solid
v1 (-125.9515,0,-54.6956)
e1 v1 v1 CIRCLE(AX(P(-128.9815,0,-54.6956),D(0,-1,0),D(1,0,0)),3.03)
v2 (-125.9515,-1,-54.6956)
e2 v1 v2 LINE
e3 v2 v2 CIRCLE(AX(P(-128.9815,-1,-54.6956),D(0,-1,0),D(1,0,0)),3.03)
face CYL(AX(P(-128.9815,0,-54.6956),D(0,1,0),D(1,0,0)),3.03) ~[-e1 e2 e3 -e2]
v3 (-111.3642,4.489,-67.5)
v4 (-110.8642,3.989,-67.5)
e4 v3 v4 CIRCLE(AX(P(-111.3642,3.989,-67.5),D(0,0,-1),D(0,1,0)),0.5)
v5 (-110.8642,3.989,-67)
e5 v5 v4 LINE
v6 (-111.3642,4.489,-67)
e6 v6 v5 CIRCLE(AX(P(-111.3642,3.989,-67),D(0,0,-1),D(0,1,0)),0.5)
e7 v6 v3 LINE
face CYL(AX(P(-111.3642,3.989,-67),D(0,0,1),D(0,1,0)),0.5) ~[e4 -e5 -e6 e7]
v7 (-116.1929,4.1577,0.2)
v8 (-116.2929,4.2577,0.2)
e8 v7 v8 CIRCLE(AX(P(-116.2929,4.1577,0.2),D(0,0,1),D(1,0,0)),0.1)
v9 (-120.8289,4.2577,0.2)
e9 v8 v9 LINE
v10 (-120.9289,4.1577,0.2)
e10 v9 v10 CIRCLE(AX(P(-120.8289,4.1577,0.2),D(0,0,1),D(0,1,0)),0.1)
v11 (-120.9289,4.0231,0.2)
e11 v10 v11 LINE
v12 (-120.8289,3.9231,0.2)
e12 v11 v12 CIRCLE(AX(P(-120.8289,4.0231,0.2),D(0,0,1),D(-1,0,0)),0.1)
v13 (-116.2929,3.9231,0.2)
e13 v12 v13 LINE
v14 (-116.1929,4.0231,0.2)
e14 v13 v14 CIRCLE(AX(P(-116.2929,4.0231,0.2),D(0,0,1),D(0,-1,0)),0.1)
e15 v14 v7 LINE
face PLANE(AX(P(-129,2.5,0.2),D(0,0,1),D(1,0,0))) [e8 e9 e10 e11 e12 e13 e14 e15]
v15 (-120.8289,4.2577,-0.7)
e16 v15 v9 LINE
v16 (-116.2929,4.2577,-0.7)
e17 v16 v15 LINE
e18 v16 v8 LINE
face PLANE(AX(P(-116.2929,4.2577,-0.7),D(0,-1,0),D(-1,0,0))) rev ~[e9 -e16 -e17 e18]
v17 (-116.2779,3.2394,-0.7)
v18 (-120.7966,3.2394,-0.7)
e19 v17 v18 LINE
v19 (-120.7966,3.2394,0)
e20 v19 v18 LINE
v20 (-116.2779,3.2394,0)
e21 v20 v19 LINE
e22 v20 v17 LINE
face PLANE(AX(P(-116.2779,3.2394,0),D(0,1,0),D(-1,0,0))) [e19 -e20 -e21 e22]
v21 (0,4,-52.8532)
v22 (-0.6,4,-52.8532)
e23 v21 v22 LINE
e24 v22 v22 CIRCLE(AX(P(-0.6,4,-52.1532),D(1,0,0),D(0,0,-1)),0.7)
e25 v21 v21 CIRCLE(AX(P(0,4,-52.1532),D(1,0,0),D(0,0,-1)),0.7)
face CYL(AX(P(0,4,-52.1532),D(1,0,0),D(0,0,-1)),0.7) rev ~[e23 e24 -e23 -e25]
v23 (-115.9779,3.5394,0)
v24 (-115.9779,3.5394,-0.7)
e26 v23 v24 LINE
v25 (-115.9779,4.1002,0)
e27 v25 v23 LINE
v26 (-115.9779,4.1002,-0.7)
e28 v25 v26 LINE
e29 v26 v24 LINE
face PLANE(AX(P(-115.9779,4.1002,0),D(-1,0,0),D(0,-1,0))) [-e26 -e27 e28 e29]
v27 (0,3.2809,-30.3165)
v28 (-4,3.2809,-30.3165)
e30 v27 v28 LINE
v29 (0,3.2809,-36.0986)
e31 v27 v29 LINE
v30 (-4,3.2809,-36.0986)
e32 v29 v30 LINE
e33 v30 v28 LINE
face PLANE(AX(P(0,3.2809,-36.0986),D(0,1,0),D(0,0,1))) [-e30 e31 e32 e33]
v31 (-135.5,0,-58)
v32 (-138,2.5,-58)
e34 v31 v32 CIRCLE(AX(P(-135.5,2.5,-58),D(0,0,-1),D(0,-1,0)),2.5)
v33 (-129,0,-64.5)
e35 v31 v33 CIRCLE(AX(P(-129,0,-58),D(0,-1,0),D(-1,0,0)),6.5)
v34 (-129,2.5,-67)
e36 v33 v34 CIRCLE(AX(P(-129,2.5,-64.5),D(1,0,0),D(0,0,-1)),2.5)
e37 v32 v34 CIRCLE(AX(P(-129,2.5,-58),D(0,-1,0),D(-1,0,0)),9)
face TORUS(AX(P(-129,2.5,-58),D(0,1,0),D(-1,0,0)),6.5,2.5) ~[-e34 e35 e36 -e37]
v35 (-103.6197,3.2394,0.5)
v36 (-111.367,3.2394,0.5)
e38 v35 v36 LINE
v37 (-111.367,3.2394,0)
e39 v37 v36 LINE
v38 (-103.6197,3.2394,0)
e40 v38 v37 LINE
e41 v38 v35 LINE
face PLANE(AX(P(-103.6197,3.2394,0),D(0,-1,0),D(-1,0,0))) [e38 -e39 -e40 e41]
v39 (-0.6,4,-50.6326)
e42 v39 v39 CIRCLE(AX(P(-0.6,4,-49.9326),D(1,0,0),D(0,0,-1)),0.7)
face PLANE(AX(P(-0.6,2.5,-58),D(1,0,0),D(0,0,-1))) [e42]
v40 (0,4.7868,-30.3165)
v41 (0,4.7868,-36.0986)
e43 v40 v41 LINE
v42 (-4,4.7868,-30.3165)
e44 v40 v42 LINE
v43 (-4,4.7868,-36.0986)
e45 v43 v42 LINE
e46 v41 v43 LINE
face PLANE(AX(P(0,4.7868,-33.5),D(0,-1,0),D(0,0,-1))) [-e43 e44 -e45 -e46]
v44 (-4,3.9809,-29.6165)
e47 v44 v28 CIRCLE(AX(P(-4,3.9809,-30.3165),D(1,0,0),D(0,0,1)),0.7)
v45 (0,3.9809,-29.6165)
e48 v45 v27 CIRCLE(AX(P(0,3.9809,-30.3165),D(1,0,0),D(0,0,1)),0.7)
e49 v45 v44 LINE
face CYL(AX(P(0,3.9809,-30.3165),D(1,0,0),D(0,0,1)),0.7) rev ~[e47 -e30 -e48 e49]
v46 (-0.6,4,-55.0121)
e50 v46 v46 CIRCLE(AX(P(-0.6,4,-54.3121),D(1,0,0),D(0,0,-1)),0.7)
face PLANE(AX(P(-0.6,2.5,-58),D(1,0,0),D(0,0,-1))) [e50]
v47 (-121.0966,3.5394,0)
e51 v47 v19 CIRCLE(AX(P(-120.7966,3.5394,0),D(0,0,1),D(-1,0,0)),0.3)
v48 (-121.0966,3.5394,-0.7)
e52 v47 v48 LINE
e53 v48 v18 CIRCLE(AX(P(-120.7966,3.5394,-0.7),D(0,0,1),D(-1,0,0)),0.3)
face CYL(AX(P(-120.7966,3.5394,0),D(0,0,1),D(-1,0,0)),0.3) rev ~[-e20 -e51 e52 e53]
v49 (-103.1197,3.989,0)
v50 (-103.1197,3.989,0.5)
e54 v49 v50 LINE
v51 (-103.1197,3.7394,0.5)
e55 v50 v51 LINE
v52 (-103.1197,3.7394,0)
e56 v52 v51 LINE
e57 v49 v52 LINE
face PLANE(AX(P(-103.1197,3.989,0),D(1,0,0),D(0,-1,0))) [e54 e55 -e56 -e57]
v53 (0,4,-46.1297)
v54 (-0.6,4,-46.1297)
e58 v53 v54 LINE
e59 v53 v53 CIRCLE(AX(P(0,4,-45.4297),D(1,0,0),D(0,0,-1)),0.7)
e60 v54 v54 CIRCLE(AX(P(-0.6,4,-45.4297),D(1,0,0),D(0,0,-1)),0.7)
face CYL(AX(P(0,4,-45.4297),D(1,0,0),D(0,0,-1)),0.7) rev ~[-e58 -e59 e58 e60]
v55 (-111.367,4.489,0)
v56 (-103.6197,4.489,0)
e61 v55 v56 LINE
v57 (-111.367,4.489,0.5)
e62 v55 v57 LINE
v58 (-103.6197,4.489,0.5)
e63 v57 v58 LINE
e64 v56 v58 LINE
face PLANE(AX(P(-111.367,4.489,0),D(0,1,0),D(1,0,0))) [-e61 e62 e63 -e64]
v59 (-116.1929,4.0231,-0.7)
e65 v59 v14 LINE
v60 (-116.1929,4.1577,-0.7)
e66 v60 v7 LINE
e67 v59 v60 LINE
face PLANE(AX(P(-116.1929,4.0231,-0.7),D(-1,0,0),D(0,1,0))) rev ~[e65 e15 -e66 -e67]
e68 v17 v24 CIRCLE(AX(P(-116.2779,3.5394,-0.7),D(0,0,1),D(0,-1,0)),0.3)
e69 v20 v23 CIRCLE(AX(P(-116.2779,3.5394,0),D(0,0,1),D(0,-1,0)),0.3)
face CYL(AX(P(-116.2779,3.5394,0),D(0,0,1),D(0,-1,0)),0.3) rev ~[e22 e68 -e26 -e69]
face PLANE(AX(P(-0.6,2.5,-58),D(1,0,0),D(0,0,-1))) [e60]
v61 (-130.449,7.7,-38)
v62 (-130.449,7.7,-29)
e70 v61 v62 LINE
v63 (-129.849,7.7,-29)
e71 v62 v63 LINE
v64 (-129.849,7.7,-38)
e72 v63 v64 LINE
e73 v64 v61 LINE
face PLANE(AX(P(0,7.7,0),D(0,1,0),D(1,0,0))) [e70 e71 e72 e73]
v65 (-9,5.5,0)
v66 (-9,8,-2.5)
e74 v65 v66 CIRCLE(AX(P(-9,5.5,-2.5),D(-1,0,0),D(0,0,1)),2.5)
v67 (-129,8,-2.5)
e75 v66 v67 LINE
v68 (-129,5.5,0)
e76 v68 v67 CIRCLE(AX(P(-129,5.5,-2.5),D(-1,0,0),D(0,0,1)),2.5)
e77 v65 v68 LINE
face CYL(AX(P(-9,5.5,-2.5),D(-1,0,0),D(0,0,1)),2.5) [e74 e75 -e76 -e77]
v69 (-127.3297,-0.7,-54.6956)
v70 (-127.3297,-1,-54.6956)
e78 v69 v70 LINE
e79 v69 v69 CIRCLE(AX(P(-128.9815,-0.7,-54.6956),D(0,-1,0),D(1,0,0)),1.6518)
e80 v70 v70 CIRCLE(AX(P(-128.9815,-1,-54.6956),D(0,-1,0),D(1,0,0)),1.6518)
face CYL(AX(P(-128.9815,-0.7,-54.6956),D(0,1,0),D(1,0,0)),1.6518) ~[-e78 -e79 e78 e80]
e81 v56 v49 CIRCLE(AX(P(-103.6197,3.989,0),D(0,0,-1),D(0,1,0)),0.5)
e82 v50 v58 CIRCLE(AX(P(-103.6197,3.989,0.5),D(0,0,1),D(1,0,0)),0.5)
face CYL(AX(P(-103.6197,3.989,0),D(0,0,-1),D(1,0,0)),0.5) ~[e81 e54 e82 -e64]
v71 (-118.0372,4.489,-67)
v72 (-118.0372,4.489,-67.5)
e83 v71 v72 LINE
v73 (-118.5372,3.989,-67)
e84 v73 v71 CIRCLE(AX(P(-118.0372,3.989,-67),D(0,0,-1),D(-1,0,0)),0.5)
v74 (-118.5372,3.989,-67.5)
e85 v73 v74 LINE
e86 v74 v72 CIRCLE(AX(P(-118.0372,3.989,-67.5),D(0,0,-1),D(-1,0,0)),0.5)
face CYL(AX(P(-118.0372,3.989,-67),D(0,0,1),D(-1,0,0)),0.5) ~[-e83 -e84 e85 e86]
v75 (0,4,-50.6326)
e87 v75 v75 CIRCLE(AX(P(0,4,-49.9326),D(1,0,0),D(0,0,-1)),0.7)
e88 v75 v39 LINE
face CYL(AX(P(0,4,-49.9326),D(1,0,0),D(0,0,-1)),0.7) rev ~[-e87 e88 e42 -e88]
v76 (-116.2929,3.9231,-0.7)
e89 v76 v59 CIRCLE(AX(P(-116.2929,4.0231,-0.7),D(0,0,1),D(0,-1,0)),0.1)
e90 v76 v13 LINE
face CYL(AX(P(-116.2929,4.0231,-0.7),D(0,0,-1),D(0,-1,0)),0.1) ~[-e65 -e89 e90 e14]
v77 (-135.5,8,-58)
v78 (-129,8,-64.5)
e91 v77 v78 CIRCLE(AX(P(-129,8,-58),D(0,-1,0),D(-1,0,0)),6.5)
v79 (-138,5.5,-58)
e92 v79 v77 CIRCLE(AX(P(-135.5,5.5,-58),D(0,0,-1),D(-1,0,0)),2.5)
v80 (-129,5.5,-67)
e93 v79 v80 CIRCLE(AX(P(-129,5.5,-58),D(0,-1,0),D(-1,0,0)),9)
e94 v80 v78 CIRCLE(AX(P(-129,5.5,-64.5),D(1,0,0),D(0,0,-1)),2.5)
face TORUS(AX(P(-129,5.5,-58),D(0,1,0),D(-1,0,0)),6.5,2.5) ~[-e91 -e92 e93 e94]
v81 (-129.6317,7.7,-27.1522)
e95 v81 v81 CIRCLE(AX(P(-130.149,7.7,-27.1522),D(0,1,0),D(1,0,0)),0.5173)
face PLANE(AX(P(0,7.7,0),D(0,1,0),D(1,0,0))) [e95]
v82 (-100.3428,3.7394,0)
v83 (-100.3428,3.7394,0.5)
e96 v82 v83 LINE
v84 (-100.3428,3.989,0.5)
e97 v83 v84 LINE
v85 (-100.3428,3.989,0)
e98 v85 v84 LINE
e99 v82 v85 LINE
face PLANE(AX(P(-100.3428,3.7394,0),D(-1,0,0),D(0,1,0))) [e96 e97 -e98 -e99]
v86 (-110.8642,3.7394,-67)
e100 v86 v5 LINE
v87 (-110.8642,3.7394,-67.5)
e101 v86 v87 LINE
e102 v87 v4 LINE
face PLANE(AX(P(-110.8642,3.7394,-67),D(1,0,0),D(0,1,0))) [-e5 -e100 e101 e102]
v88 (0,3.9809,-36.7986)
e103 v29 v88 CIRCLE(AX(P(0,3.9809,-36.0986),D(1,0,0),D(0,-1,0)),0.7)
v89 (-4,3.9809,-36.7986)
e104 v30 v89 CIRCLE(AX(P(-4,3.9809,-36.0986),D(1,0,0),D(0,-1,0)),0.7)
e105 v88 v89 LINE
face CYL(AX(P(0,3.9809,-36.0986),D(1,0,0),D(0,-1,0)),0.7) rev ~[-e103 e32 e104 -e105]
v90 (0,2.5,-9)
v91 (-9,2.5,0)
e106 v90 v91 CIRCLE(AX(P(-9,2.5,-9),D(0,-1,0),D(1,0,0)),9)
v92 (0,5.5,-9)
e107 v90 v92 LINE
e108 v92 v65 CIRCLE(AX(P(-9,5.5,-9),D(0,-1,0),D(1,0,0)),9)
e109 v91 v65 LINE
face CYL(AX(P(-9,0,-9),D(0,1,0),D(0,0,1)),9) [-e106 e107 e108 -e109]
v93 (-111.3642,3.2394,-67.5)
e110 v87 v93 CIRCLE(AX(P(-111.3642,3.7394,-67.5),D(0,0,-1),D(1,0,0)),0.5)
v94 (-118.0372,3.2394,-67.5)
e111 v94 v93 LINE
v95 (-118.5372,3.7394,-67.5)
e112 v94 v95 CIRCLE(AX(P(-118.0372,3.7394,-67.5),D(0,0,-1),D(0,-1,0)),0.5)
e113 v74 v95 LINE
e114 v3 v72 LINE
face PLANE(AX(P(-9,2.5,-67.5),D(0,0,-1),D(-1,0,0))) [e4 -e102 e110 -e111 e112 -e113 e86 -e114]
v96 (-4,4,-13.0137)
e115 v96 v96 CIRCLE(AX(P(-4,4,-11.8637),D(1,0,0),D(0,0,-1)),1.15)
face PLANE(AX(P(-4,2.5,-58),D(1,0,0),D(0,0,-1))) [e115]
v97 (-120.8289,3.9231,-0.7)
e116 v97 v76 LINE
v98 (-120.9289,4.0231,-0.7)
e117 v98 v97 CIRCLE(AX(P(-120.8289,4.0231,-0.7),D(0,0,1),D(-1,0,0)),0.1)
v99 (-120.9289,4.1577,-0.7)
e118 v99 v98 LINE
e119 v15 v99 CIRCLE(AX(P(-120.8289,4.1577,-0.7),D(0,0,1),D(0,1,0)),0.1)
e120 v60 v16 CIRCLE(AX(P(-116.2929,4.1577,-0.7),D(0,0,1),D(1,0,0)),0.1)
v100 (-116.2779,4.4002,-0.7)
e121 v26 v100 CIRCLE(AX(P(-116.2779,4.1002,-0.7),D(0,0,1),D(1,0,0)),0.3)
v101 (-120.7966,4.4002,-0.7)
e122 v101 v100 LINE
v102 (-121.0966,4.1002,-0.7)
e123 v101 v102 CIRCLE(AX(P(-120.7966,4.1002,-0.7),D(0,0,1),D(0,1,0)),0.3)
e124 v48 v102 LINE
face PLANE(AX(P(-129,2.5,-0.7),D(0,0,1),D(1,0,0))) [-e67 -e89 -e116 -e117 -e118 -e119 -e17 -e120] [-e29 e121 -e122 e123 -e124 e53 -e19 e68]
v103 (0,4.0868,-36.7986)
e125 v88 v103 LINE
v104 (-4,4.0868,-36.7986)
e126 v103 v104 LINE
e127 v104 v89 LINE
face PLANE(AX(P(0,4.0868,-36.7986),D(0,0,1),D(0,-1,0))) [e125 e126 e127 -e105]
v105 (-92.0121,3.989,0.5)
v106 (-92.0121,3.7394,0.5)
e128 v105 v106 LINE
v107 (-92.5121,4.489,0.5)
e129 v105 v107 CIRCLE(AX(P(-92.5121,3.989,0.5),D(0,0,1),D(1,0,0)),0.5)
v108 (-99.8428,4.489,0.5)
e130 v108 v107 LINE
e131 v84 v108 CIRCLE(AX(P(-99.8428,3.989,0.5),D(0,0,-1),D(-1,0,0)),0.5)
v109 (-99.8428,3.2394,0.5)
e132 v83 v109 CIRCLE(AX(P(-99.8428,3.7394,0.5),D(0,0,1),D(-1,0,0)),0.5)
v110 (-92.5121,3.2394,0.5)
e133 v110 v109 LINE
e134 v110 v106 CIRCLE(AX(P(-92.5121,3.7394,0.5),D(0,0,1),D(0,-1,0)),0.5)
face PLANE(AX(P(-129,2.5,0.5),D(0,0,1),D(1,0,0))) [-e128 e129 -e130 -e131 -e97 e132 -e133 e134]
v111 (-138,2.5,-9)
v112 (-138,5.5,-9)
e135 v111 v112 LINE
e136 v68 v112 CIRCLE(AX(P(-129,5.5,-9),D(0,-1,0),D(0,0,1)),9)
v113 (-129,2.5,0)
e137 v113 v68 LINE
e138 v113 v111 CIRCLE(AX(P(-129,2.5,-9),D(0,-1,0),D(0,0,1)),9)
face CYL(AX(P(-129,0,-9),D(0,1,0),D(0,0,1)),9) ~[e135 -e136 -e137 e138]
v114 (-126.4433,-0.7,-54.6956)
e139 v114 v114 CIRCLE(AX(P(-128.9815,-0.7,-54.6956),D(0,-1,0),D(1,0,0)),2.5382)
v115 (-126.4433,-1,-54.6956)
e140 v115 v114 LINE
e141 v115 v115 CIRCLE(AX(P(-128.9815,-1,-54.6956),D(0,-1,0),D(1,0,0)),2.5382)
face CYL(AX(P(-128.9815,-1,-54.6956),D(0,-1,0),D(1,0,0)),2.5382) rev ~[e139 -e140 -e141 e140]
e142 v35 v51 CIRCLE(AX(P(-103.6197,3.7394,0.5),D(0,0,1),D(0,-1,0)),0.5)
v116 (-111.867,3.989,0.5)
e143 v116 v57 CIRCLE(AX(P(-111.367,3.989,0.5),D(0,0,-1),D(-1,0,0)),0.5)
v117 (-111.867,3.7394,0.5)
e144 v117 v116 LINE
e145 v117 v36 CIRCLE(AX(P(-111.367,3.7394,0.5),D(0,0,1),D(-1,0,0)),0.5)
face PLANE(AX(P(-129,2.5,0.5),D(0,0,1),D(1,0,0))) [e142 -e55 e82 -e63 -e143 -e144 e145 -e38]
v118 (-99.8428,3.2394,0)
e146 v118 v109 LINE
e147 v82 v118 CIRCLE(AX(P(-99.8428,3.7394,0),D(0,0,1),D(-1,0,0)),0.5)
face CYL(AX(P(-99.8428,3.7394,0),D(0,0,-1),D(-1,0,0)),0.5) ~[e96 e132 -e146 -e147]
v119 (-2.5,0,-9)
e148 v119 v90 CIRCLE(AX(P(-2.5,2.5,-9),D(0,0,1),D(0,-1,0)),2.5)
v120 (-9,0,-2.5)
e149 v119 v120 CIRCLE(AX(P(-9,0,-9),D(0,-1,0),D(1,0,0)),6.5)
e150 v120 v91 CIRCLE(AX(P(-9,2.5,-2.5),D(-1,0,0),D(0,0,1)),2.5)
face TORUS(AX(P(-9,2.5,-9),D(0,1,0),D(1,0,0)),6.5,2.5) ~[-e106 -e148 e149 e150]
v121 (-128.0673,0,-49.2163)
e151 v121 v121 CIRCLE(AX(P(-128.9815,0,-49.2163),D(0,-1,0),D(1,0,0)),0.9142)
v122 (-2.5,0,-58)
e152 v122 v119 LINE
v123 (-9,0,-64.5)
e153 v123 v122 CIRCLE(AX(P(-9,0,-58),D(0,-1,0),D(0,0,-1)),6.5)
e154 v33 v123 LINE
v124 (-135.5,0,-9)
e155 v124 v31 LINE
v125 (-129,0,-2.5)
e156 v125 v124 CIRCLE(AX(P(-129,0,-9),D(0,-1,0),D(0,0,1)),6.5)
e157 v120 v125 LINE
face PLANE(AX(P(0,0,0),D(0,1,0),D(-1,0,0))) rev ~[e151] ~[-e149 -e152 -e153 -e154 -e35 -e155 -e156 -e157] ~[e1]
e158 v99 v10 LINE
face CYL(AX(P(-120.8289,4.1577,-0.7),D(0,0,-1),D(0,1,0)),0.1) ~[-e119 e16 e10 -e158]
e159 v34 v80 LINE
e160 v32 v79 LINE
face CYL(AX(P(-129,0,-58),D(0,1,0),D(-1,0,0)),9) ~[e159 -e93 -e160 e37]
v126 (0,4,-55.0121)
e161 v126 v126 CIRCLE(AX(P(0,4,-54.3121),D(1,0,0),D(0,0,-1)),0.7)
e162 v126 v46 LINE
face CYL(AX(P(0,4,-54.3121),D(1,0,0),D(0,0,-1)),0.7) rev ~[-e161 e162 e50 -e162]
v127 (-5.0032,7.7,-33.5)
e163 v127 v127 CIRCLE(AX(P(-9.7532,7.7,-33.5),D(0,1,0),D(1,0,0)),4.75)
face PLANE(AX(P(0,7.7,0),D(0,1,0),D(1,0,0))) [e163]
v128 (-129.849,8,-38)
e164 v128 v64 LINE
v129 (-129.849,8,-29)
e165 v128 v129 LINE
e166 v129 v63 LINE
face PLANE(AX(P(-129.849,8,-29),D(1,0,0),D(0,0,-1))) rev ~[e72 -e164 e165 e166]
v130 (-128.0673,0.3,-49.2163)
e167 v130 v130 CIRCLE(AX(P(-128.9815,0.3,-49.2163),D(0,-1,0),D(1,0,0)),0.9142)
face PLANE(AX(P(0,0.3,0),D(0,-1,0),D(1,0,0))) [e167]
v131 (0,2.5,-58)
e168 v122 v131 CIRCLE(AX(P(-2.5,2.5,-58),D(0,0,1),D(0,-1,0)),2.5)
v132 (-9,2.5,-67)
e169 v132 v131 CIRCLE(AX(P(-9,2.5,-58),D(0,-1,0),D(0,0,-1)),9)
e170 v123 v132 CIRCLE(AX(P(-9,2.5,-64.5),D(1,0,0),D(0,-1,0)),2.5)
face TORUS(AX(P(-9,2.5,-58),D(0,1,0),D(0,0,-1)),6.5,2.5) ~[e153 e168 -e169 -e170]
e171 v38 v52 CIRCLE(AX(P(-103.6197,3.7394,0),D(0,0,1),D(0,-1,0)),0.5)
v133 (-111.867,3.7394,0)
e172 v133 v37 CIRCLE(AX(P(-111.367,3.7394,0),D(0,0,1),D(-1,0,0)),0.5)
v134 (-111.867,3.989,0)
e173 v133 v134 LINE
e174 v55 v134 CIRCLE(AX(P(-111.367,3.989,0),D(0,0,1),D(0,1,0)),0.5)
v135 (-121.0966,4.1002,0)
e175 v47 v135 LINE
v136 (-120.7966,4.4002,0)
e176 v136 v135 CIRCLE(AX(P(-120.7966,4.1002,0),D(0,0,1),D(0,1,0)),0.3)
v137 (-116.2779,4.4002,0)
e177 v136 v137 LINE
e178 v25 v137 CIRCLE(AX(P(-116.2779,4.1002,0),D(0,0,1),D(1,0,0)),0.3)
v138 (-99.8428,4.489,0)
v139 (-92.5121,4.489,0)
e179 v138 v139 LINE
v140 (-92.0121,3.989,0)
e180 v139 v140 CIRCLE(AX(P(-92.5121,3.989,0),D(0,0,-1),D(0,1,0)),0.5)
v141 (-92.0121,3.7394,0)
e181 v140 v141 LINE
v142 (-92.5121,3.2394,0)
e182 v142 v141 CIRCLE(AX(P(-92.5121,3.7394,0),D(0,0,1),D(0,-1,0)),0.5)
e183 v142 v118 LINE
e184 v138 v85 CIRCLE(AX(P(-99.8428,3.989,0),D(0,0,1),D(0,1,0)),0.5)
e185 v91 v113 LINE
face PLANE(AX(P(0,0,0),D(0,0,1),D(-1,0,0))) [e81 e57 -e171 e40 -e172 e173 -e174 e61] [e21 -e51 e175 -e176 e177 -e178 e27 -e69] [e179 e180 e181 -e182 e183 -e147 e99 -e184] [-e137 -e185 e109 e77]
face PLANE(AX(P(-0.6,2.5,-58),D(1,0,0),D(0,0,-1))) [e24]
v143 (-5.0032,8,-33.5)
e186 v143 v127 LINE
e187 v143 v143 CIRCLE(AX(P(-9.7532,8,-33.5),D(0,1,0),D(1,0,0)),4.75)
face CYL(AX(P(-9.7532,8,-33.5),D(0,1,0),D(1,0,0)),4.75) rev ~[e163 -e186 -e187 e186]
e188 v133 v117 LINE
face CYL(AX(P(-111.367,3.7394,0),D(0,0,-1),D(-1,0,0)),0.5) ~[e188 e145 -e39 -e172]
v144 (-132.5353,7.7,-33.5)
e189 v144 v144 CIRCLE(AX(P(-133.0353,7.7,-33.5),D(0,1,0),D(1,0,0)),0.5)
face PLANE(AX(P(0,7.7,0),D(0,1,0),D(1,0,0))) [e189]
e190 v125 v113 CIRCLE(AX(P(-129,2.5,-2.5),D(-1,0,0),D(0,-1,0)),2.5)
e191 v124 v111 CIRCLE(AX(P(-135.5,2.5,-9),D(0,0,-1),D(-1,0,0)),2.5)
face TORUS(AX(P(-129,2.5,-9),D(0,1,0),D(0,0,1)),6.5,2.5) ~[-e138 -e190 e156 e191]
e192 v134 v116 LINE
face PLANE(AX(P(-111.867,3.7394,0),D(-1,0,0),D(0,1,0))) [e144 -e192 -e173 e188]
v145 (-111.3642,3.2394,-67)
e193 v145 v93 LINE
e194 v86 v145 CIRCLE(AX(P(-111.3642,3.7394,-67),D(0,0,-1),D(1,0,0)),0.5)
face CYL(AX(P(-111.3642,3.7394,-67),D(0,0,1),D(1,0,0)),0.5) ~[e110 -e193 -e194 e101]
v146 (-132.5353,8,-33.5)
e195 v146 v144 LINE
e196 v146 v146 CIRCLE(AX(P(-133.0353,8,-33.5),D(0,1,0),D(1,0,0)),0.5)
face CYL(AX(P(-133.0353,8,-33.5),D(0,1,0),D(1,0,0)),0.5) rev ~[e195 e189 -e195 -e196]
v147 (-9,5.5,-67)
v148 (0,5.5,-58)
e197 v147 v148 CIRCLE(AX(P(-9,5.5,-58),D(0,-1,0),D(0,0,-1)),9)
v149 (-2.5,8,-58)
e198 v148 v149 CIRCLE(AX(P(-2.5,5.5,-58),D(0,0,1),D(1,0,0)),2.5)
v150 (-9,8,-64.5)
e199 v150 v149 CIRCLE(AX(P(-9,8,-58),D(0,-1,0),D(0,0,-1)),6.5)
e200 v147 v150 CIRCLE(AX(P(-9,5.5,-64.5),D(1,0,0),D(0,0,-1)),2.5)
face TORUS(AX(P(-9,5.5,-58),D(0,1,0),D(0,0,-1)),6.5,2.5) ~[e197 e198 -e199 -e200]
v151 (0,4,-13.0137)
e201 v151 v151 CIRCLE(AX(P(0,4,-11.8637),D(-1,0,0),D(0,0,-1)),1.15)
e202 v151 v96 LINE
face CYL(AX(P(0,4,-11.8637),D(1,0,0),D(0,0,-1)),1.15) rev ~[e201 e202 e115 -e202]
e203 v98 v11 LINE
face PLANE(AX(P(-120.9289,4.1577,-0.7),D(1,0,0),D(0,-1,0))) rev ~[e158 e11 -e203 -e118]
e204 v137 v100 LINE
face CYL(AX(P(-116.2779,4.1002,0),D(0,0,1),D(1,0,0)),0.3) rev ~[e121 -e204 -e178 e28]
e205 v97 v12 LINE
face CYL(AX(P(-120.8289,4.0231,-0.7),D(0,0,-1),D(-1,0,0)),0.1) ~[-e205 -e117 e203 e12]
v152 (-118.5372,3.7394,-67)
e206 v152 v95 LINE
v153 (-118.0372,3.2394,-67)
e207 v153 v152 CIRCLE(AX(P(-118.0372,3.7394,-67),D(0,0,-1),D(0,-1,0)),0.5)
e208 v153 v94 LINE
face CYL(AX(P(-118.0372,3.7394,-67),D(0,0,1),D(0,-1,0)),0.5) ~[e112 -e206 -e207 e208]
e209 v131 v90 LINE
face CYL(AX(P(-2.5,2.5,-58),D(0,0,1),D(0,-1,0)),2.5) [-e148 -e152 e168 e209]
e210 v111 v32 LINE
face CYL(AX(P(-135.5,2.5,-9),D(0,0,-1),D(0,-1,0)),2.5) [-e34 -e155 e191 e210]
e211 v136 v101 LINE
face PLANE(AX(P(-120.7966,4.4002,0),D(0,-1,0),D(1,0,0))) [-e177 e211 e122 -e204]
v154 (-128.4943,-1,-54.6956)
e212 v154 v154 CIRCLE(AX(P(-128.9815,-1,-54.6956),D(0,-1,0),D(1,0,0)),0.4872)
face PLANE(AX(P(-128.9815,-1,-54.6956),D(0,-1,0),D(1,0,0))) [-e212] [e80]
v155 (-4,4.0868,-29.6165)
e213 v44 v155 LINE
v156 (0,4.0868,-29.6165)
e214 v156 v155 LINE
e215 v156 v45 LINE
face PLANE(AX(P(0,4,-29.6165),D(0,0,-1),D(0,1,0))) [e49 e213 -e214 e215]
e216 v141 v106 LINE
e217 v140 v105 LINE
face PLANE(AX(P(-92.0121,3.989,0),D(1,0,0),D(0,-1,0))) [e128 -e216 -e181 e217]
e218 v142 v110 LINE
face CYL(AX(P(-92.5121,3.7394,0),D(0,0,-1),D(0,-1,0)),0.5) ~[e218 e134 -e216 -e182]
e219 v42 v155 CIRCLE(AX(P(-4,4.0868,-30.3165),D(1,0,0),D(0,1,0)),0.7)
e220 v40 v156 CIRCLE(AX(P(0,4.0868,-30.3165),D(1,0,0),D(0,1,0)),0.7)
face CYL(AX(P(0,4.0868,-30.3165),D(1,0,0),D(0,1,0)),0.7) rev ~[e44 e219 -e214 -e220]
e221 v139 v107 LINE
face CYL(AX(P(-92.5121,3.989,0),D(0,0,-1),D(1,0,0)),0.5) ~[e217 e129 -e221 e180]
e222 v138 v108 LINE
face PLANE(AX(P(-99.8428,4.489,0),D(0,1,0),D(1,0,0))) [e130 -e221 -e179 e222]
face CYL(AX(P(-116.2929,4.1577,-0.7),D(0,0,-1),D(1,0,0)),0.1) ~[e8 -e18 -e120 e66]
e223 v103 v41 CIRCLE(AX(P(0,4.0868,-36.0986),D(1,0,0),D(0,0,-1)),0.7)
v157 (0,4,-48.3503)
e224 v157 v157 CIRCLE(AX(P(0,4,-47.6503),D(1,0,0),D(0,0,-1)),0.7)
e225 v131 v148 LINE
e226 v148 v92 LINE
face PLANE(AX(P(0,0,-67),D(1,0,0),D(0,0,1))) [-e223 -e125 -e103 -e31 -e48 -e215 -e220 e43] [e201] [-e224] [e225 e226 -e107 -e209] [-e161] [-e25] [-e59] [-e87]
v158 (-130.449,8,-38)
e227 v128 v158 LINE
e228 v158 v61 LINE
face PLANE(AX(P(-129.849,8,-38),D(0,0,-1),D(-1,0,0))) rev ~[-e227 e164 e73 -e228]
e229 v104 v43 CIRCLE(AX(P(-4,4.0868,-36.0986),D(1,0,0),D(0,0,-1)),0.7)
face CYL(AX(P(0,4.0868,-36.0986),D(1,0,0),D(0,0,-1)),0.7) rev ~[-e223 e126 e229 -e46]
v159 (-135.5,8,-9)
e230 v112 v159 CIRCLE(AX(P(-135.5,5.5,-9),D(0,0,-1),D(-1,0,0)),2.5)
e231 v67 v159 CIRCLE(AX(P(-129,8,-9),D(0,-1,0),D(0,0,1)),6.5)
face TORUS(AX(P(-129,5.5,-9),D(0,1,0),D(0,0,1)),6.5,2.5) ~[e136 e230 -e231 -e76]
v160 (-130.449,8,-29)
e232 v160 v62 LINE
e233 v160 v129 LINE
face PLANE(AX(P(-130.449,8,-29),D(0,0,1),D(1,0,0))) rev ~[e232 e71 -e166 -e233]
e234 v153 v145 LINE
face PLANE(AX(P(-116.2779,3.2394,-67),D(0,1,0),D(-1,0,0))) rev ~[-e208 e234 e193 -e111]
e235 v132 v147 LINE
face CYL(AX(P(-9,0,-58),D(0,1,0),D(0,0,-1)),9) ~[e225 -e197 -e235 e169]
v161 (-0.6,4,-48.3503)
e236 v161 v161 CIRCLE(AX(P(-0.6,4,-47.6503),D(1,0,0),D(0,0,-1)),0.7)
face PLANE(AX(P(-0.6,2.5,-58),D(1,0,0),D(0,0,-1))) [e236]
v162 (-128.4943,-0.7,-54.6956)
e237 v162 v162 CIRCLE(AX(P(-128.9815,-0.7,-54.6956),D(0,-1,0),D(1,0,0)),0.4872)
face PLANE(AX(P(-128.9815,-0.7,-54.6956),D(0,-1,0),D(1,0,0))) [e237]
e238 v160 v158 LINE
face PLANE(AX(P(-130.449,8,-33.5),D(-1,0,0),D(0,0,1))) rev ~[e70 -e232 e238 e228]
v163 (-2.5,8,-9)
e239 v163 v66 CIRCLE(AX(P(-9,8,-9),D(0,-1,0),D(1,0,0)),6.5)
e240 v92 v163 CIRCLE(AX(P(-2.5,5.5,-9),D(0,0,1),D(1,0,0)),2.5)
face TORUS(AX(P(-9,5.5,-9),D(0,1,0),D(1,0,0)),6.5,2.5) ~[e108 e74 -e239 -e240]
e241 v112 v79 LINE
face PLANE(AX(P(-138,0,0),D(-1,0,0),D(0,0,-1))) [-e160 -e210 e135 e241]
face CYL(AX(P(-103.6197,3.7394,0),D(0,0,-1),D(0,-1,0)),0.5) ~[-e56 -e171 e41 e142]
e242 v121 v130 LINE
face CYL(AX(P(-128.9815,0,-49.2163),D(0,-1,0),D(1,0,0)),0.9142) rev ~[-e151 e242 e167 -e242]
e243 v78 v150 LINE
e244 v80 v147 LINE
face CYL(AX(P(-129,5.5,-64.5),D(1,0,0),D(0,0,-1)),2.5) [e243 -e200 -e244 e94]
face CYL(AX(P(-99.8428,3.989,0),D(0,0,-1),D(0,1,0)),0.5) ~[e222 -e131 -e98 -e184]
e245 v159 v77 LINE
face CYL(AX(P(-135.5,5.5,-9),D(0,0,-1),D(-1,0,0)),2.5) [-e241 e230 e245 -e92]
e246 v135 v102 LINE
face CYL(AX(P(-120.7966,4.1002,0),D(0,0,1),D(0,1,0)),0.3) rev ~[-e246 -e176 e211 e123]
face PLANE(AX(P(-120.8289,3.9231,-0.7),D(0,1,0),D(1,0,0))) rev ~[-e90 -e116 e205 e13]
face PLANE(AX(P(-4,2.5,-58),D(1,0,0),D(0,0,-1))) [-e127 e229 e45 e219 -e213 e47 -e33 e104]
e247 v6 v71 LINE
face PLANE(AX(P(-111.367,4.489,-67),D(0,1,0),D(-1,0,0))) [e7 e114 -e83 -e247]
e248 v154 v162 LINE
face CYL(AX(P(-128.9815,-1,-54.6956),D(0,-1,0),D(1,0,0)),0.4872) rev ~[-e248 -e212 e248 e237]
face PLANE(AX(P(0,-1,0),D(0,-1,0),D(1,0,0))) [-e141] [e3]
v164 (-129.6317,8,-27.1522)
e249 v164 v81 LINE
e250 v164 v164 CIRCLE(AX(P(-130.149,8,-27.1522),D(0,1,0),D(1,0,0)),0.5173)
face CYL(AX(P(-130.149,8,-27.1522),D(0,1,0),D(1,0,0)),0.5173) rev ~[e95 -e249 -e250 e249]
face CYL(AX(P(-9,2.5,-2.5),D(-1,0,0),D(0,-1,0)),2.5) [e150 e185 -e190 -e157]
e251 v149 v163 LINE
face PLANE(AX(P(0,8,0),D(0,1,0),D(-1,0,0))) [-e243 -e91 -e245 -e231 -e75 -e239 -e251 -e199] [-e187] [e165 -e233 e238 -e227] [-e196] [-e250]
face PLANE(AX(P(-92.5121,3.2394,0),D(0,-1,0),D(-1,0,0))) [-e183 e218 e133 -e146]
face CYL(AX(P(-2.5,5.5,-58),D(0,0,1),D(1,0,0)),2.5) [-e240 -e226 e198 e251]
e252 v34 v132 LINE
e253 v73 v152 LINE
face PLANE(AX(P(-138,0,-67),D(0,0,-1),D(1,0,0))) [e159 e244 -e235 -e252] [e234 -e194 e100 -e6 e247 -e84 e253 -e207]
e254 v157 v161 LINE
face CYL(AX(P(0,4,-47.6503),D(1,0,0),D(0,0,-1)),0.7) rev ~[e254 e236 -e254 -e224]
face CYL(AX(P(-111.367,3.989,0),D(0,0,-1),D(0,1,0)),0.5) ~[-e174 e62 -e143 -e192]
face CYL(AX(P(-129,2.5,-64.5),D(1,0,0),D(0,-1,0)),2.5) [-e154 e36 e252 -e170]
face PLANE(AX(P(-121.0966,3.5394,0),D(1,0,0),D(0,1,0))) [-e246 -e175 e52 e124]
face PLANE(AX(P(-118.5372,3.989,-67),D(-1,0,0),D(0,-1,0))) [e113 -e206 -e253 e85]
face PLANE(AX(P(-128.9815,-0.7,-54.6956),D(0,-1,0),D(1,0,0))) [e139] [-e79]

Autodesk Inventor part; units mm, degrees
ref_plane "YZ Plane" through (0, 0, 0) normal (1, 0, 0) x (0, 1, 0)
ref_plane "XZ Plane" through (0, 0, 0) normal (0, 1, 0) x (-1, 0, 0)
ref_plane "XY Plane" through (0, 0, 0) normal (0, 0, 1) x (1, 0, 0)
sketch "Sketch1" plane through (0, 0, 0) normal (0, 1, 0) x (-1, 0, 0)
  line L0 (0, 0) -> (138, 0)
  line L1 (138, 0) -> (138, -67)
  line L2 (138, -67) -> (0, -67)
  line L3 (0, -67) -> (0, 0)
  dimension "d0" = 138
  dimension "d1" = 67
extrude "Extrusion1" add sketch "Sketch1" along normal blind 8
fillet "Fillet3" radius 9 4 edges at (-138, 4, 0) (-138, 4, -67) (0, 4, 0) (0, 4, -67)
fillet "Fillet4" radius 2.5 16 edges at (-135.364, 8, -2.636) (-69, 8, 0) (-2.636, 8, -2.636) (0, 8, -33.5) (-2.636, 8, -64.364) (-69, 8, -67) (-135.364, 8, -64.364) (-138, 8, -33.5) (0, 0, -33.5) (-2.636, 0, -64.364) (-69, 0, -67) (-135.364, 0, -64.364) (-138, 0, -33.5) (-135.364, 0, -2.636) (-69, 0, 0) (-2.636, 0, -2.636)
sketch "Sketch9" plane through (0, 8, 0) normal (0, 1, 0) x (1, 0, 0)
  line L0 (-135.5, 9) -> (-135.5, 58) projected
  line L1 (-2.5, 58) -> (-2.5, 9) projected
  line L2 (-9, 2.5) -> (-129, 2.5) projected
  line L3 (-129, 64.5) -> (-9, 64.5) projected
  line L4 (-121, 4.5) -> (-17, 4.5)
  line L5 (-17, 4.5) -> (-17, 62.5)
  line L6 (-17, 62.5) -> (-121, 62.5)
  line L7 (-121, 62.5) -> (-121, 4.5)
  point P0 (0, 0)
sketch "Sketch11" plane through (0, 8, 0) normal (0, 1, 0) x (1, 0, 0)
  line L0 (-2.5, 58) -> (-2.5, 9) projected
  circle A0 centre (-9.7532, 33.5) radius 4.75
  line L1 (-135.5, 9) -> (-135.5, 58) projected
  circle A1 centre (-133.0353, 33.5) radius 0.5
  line L2 (-129.849, 33.5) -> (-129.849, 38)
  line L3 (-129.849, 38) -> (-130.449, 38)
  line L4 (-130.449, 38) -> (-130.449, 33.5)
  line L5 (-130.449, 33.5) -> (-130.449, 29)
  line L6 (-130.449, 29) -> (-129.849, 29)
  line L7 (-129.849, 29) -> (-129.849, 33.5)
  circle A2 centre (-130.149, 27.1522) radius 0.5173
  line L8 (-130.449, 29) -> (-129.849, 29)
  line L9 (-129.849, 29) -> (-129.849, 38)
  line L10 (-129.849, 38) -> (-130.449, 38)
  line L11 (-130.449, 38) -> (-130.449, 29)
  point P0 (0, 0)
  dimension "d21" = 9.5
  dimension "d22" = 1
extrude "Extrusion2" cut sketch "Sketch11" against normal blind 0.3
sketch "Sketch12" plane through (0, 8, 0) normal (0, 1, 0) x (1, 0, 0)
  line L0 (-121.0067, 4.7801) -> (-121.0067, 62.5653) construction
  line L1 (-121.0067, 62.5653) -> (-18.2774, 62.5653) construction
  line L2 (-18.2774, 62.5653) -> (-18.2774, 4.7801) construction
  line L3 (-18.2774, 4.7801) -> (-121.0067, 4.7801) construction
  point P0 (0, 0)
sketch "Sketch15" plane through (0, 2.5, -58) normal (1, 0, 0) x (0, 0, -1)
  line L0 (-49, 0) -> (-49, 3) projected
  line L1 (0, 3) -> (0, 0) projected
  circle A0 centre (-3.6879, 1.5) radius 0.7
  circle A1 centre (-5.8468, 1.5) radius 0.7
  circle A2 centre (-8.0674, 1.5) radius 0.7
  circle A3 centre (-10.3497, 1.5) radius 0.7
  circle A4 centre (-12.5703, 1.5) radius 0.7
  point P0 (-58, -2.5)
extrude "Extrusion5" cut sketch "Sketch15" against normal blind 0.6
sketch "Sketch16" plane through (0, 2.5, -58) normal (1, 0, 0) x (0, 0, -1)
  point P0 (-58, -2.5)
sketch "Sketch17" plane through (0, 2.5, -58) normal (1, 0, 0) x (0, 0, -1)
  line L0 (-49, 0) -> (-49, 3) projected
  line L1 (-49, 1.5) -> (0, 1.5)
  line L2 (0, 3) -> (0, 0) projected
  line L3 (-49, 3) -> (0, 3) projected
  line L4 (-24.5, 3) -> (-24.5, 0)
  circle A0 centre (-46.1363, 1.5) radius 1.15
  line L5 (-27.6835, 2.2868) -> (-21.9014, 2.2868)
  line L6 (-21.2014, 1.5868) -> (-21.2014, 1.4809)
  line L7 (-21.9014, 0.7809) -> (-27.6835, 0.7809)
  line L8 (-28.3835, 1.4809) -> (-28.3835, 1.5868)
  arc A1 (-27.6835, 2.2868) -> (-28.3835, 1.5868) centre (-27.6835, 1.5868) ccw
  arc A2 (-28.3835, 1.4809) -> (-27.6835, 0.7809) centre (-27.6835, 1.4809) ccw
  arc A3 (-21.2014, 1.5868) -> (-21.9014, 2.2868) centre (-21.9014, 1.5868) ccw
  arc A4 (-21.9014, 0.7809) -> (-21.2014, 1.4809) centre (-21.9014, 1.4809) ccw
  point P0 (-58, -2.5)
  dimension "d67" = 0.7
  dimension "d68" = 0.7
extrude "Extrusion6" cut sketch "Sketch17" against normal blind 4 contours A0 L1 | L1 A0 | L5 A3 L6 L1 L4 | L4 L1 L8 A1 L5 | L1 L4 L7 A2 L8 | L1 L6 A4 L7 L4
sketch "Sketch18" plane through (-129, 2.5, 0) normal (0, 0, 1) x (1, 0, 0)
  line L0 (0, 0) -> (0, 3) projected
  line L1 (0, 1.5) -> (120, 1.5)
  line L2 (120, 0) -> (129, 0) projected
  line L3 (17.633, 1.989) -> (25.3803, 1.989)
  line L4 (25.8803, 1.489) -> (25.8803, 1.2394)
  line L5 (25.3803, 0.7394) -> (17.633, 0.7394)
  line L6 (17.133, 1.2394) -> (17.133, 1.489)
  line L7 (29.1572, 1.989) -> (36.4879, 1.989)
  line L8 (36.9879, 1.489) -> (36.9879, 1.2394)
  line L9 (36.4879, 0.7394) -> (29.1572, 0.7394)
  line L10 (28.6572, 1.2394) -> (28.6572, 1.489)
  arc A0 (17.633, 1.989) -> (17.133, 1.489) centre (17.633, 1.489) ccw
  arc A1 (17.133, 1.2394) -> (17.633, 0.7394) centre (17.633, 1.2394) ccw
  arc A2 (25.8803, 1.489) -> (25.3803, 1.989) centre (25.3803, 1.489) ccw
  arc A3 (25.3803, 0.7394) -> (25.8803, 1.2394) centre (25.3803, 1.2394) ccw
  arc A4 (29.1572, 1.989) -> (28.6572, 1.489) centre (29.1572, 1.489) ccw
  arc A5 (28.6572, 1.2394) -> (29.1572, 0.7394) centre (29.1572, 1.2394) ccw
  arc A6 (36.9879, 1.489) -> (36.4879, 1.989) centre (36.4879, 1.489) ccw
  arc A7 (36.4879, 0.7394) -> (36.9879, 1.2394) centre (36.4879, 1.2394) ccw
  point P0 (129, -2.5)
  point P1 (28.6572, 1.989)
  point P2 (36.9879, 0.7394)
  dimension "d71" = 0.5
extrude "Extrusion7" add sketch "Sketch18" along normal blind 0.5
sketch "Sketch19" plane through (-129, 2.5, 0) normal (0, 0, 1) x (1, 0, 0)
  line L0 (12.7221, 0.7394) -> (8.2034, 0.7394)
  line L1 (7.9034, 1.0394) -> (7.9034, 1.6002)
  line L2 (8.2034, 1.9002) -> (12.7221, 1.9002)
  line L3 (13.0221, 1.6002) -> (13.0221, 1.0394)
  arc A0 (8.2034, 1.9002) -> (7.9034, 1.6002) centre (8.2034, 1.6002) ccw
  arc A1 (7.9034, 1.0394) -> (8.2034, 0.7394) centre (8.2034, 1.0394) ccw
  arc A2 (13.0221, 1.6002) -> (12.7221, 1.9002) centre (12.7221, 1.6002) ccw
  arc A3 (12.7221, 0.7394) -> (13.0221, 1.0394) centre (12.7221, 1.0394) ccw
  point P0 (129, -2.5)
  dimension "d74" = 0.3
extrude "Extrusion8" cut sketch "Sketch19" against normal blind 0.7
sketch "Sketch20" plane through (-129, 2.5, -0.7) normal (0, 0, 1) x (1, 0, 0)
  line L0 (12.7071, 1.7577) -> (8.1711, 1.7577)
  line L1 (8.0711, 1.6577) -> (8.0711, 1.5231)
  line L2 (8.1711, 1.4231) -> (12.7071, 1.4231)
  line L3 (12.8071, 1.5231) -> (12.8071, 1.6577)
  arc A0 (12.8071, 1.6577) -> (12.7071, 1.7577) centre (12.7071, 1.6577) ccw
  arc A1 (12.7071, 1.4231) -> (12.8071, 1.5231) centre (12.7071, 1.5231) ccw
  arc A2 (8.1711, 1.7577) -> (8.0711, 1.6577) centre (8.1711, 1.6577) ccw
  arc A3 (8.0711, 1.5231) -> (8.1711, 1.4231) centre (8.1711, 1.5231) ccw
  point P0 (129, -2.5)
  dimension "d77" = 0.1
  dimension "d78" = 0.1
extrude "Extrusion9" add sketch "Sketch20" along normal blind 0.9
sketch "Sketch21" plane through (-9, 2.5, -67) normal (0, 0, -1) x (-1, 0, 0)
  line L0 (107.2779, 0.7394) -> (111.7966, 0.7394) projected
  line L1 (102.367, 1.989) -> (94.6197, 1.989) projected
  line L2 (109.0372, 0.7394) -> (102.3642, 0.7394)
  line L3 (101.8642, 1.2394) -> (101.8642, 1.489)
  line L4 (102.3642, 1.989) -> (109.0372, 1.989)
  line L5 (109.5372, 1.489) -> (109.5372, 1.2394)
  arc A0 (101.8642, 1.2394) -> (102.3642, 0.7394) centre (102.3642, 1.2394) ccw
  arc A1 (102.3642, 1.989) -> (101.8642, 1.489) centre (102.3642, 1.489) ccw
  arc A2 (109.0372, 0.7394) -> (109.5372, 1.2394) centre (109.0372, 1.2394) ccw
  arc A3 (109.5372, 1.489) -> (109.0372, 1.989) centre (109.0372, 1.489) ccw
  point P0 (-9, -2.5)
  point P1 (109.5372, 0.7394)
  point P2 (101.8642, 1.989)
  dimension "d81" = 0.5
extrude "Extrusion10" add sketch "Sketch21" along normal blind 0.5
sketch "Sketch22" plane through (0, 0, 0) normal (0, -1, 0) x (1, 0, 0)
  point P0 (0, 0)
sketch "Sketch23" plane through (0, 0, 0) normal (0, -1, 0) x (1, 0, 0)
  circle A0 centre (-128.9815, -54.6956) radius 3.03
  circle A1 centre (-128.9815, -48.6898) radius 1.1168
  point P0 (0, 0)
extrude "Extrusion11" add sketch "Sketch23" along normal blind 1 contours A0
sketch "Sketch24" plane through (-128.9815, -1, -54.6956) normal (0, -1, 0) x (1, 0, 0)
  circle A0 centre (0, 0) radius 2.5382
  point P0 (128.9815, 54.6956)
extrude "Extrusion12" cut sketch "Sketch24" against normal blind 0.3
sketch "Sketch25" plane through (-128.9815, -0.7, -54.6956) normal (0, -1, 0) x (1, 0, 0)
  circle A0 centre (0, 0) radius 1.6518
  point P0 (128.9815, 54.6956)
extrude "Extrusion13" add sketch "Sketch25" along normal blind 0.3
sketch "Sketch26" plane through (-128.9815, -1, -54.6956) normal (0, -1, 0) x (1, 0, 0)
  circle A0 centre (0, 0) radius 0.4872
  point P0 (128.9815, 54.6956)
extrude "Extrusion14" cut sketch "Sketch26" against normal blind 0.3
sketch "Sketch27" plane through (0, 0, 0) normal (0, -1, 0) x (1, 0, 0)
  circle A0 centre (-128.9815, -49.2163) radius 0.9142
  point P0 (0, 0)
extrude "Extrusion15" cut sketch "Sketch27" against normal blind 0.3
sketch "Sketch28" plane through (0, 0, 0) normal (0, -1, 0) x (1, 0, 0)
  line L0 (-105.2991, -46.5746) -> (-105.2991, -22.5188) construction
  line L1 (-105.2991, -22.5188) -> (-81.2433, -22.5188) construction
  line L2 (-81.2433, -22.5188) -> (-81.2433, -46.5746) construction
  line L3 (-81.2433, -46.5746) -> (-105.2991, -46.5746) construction
  point P0 (0, 0)
properties part number "telefon"
